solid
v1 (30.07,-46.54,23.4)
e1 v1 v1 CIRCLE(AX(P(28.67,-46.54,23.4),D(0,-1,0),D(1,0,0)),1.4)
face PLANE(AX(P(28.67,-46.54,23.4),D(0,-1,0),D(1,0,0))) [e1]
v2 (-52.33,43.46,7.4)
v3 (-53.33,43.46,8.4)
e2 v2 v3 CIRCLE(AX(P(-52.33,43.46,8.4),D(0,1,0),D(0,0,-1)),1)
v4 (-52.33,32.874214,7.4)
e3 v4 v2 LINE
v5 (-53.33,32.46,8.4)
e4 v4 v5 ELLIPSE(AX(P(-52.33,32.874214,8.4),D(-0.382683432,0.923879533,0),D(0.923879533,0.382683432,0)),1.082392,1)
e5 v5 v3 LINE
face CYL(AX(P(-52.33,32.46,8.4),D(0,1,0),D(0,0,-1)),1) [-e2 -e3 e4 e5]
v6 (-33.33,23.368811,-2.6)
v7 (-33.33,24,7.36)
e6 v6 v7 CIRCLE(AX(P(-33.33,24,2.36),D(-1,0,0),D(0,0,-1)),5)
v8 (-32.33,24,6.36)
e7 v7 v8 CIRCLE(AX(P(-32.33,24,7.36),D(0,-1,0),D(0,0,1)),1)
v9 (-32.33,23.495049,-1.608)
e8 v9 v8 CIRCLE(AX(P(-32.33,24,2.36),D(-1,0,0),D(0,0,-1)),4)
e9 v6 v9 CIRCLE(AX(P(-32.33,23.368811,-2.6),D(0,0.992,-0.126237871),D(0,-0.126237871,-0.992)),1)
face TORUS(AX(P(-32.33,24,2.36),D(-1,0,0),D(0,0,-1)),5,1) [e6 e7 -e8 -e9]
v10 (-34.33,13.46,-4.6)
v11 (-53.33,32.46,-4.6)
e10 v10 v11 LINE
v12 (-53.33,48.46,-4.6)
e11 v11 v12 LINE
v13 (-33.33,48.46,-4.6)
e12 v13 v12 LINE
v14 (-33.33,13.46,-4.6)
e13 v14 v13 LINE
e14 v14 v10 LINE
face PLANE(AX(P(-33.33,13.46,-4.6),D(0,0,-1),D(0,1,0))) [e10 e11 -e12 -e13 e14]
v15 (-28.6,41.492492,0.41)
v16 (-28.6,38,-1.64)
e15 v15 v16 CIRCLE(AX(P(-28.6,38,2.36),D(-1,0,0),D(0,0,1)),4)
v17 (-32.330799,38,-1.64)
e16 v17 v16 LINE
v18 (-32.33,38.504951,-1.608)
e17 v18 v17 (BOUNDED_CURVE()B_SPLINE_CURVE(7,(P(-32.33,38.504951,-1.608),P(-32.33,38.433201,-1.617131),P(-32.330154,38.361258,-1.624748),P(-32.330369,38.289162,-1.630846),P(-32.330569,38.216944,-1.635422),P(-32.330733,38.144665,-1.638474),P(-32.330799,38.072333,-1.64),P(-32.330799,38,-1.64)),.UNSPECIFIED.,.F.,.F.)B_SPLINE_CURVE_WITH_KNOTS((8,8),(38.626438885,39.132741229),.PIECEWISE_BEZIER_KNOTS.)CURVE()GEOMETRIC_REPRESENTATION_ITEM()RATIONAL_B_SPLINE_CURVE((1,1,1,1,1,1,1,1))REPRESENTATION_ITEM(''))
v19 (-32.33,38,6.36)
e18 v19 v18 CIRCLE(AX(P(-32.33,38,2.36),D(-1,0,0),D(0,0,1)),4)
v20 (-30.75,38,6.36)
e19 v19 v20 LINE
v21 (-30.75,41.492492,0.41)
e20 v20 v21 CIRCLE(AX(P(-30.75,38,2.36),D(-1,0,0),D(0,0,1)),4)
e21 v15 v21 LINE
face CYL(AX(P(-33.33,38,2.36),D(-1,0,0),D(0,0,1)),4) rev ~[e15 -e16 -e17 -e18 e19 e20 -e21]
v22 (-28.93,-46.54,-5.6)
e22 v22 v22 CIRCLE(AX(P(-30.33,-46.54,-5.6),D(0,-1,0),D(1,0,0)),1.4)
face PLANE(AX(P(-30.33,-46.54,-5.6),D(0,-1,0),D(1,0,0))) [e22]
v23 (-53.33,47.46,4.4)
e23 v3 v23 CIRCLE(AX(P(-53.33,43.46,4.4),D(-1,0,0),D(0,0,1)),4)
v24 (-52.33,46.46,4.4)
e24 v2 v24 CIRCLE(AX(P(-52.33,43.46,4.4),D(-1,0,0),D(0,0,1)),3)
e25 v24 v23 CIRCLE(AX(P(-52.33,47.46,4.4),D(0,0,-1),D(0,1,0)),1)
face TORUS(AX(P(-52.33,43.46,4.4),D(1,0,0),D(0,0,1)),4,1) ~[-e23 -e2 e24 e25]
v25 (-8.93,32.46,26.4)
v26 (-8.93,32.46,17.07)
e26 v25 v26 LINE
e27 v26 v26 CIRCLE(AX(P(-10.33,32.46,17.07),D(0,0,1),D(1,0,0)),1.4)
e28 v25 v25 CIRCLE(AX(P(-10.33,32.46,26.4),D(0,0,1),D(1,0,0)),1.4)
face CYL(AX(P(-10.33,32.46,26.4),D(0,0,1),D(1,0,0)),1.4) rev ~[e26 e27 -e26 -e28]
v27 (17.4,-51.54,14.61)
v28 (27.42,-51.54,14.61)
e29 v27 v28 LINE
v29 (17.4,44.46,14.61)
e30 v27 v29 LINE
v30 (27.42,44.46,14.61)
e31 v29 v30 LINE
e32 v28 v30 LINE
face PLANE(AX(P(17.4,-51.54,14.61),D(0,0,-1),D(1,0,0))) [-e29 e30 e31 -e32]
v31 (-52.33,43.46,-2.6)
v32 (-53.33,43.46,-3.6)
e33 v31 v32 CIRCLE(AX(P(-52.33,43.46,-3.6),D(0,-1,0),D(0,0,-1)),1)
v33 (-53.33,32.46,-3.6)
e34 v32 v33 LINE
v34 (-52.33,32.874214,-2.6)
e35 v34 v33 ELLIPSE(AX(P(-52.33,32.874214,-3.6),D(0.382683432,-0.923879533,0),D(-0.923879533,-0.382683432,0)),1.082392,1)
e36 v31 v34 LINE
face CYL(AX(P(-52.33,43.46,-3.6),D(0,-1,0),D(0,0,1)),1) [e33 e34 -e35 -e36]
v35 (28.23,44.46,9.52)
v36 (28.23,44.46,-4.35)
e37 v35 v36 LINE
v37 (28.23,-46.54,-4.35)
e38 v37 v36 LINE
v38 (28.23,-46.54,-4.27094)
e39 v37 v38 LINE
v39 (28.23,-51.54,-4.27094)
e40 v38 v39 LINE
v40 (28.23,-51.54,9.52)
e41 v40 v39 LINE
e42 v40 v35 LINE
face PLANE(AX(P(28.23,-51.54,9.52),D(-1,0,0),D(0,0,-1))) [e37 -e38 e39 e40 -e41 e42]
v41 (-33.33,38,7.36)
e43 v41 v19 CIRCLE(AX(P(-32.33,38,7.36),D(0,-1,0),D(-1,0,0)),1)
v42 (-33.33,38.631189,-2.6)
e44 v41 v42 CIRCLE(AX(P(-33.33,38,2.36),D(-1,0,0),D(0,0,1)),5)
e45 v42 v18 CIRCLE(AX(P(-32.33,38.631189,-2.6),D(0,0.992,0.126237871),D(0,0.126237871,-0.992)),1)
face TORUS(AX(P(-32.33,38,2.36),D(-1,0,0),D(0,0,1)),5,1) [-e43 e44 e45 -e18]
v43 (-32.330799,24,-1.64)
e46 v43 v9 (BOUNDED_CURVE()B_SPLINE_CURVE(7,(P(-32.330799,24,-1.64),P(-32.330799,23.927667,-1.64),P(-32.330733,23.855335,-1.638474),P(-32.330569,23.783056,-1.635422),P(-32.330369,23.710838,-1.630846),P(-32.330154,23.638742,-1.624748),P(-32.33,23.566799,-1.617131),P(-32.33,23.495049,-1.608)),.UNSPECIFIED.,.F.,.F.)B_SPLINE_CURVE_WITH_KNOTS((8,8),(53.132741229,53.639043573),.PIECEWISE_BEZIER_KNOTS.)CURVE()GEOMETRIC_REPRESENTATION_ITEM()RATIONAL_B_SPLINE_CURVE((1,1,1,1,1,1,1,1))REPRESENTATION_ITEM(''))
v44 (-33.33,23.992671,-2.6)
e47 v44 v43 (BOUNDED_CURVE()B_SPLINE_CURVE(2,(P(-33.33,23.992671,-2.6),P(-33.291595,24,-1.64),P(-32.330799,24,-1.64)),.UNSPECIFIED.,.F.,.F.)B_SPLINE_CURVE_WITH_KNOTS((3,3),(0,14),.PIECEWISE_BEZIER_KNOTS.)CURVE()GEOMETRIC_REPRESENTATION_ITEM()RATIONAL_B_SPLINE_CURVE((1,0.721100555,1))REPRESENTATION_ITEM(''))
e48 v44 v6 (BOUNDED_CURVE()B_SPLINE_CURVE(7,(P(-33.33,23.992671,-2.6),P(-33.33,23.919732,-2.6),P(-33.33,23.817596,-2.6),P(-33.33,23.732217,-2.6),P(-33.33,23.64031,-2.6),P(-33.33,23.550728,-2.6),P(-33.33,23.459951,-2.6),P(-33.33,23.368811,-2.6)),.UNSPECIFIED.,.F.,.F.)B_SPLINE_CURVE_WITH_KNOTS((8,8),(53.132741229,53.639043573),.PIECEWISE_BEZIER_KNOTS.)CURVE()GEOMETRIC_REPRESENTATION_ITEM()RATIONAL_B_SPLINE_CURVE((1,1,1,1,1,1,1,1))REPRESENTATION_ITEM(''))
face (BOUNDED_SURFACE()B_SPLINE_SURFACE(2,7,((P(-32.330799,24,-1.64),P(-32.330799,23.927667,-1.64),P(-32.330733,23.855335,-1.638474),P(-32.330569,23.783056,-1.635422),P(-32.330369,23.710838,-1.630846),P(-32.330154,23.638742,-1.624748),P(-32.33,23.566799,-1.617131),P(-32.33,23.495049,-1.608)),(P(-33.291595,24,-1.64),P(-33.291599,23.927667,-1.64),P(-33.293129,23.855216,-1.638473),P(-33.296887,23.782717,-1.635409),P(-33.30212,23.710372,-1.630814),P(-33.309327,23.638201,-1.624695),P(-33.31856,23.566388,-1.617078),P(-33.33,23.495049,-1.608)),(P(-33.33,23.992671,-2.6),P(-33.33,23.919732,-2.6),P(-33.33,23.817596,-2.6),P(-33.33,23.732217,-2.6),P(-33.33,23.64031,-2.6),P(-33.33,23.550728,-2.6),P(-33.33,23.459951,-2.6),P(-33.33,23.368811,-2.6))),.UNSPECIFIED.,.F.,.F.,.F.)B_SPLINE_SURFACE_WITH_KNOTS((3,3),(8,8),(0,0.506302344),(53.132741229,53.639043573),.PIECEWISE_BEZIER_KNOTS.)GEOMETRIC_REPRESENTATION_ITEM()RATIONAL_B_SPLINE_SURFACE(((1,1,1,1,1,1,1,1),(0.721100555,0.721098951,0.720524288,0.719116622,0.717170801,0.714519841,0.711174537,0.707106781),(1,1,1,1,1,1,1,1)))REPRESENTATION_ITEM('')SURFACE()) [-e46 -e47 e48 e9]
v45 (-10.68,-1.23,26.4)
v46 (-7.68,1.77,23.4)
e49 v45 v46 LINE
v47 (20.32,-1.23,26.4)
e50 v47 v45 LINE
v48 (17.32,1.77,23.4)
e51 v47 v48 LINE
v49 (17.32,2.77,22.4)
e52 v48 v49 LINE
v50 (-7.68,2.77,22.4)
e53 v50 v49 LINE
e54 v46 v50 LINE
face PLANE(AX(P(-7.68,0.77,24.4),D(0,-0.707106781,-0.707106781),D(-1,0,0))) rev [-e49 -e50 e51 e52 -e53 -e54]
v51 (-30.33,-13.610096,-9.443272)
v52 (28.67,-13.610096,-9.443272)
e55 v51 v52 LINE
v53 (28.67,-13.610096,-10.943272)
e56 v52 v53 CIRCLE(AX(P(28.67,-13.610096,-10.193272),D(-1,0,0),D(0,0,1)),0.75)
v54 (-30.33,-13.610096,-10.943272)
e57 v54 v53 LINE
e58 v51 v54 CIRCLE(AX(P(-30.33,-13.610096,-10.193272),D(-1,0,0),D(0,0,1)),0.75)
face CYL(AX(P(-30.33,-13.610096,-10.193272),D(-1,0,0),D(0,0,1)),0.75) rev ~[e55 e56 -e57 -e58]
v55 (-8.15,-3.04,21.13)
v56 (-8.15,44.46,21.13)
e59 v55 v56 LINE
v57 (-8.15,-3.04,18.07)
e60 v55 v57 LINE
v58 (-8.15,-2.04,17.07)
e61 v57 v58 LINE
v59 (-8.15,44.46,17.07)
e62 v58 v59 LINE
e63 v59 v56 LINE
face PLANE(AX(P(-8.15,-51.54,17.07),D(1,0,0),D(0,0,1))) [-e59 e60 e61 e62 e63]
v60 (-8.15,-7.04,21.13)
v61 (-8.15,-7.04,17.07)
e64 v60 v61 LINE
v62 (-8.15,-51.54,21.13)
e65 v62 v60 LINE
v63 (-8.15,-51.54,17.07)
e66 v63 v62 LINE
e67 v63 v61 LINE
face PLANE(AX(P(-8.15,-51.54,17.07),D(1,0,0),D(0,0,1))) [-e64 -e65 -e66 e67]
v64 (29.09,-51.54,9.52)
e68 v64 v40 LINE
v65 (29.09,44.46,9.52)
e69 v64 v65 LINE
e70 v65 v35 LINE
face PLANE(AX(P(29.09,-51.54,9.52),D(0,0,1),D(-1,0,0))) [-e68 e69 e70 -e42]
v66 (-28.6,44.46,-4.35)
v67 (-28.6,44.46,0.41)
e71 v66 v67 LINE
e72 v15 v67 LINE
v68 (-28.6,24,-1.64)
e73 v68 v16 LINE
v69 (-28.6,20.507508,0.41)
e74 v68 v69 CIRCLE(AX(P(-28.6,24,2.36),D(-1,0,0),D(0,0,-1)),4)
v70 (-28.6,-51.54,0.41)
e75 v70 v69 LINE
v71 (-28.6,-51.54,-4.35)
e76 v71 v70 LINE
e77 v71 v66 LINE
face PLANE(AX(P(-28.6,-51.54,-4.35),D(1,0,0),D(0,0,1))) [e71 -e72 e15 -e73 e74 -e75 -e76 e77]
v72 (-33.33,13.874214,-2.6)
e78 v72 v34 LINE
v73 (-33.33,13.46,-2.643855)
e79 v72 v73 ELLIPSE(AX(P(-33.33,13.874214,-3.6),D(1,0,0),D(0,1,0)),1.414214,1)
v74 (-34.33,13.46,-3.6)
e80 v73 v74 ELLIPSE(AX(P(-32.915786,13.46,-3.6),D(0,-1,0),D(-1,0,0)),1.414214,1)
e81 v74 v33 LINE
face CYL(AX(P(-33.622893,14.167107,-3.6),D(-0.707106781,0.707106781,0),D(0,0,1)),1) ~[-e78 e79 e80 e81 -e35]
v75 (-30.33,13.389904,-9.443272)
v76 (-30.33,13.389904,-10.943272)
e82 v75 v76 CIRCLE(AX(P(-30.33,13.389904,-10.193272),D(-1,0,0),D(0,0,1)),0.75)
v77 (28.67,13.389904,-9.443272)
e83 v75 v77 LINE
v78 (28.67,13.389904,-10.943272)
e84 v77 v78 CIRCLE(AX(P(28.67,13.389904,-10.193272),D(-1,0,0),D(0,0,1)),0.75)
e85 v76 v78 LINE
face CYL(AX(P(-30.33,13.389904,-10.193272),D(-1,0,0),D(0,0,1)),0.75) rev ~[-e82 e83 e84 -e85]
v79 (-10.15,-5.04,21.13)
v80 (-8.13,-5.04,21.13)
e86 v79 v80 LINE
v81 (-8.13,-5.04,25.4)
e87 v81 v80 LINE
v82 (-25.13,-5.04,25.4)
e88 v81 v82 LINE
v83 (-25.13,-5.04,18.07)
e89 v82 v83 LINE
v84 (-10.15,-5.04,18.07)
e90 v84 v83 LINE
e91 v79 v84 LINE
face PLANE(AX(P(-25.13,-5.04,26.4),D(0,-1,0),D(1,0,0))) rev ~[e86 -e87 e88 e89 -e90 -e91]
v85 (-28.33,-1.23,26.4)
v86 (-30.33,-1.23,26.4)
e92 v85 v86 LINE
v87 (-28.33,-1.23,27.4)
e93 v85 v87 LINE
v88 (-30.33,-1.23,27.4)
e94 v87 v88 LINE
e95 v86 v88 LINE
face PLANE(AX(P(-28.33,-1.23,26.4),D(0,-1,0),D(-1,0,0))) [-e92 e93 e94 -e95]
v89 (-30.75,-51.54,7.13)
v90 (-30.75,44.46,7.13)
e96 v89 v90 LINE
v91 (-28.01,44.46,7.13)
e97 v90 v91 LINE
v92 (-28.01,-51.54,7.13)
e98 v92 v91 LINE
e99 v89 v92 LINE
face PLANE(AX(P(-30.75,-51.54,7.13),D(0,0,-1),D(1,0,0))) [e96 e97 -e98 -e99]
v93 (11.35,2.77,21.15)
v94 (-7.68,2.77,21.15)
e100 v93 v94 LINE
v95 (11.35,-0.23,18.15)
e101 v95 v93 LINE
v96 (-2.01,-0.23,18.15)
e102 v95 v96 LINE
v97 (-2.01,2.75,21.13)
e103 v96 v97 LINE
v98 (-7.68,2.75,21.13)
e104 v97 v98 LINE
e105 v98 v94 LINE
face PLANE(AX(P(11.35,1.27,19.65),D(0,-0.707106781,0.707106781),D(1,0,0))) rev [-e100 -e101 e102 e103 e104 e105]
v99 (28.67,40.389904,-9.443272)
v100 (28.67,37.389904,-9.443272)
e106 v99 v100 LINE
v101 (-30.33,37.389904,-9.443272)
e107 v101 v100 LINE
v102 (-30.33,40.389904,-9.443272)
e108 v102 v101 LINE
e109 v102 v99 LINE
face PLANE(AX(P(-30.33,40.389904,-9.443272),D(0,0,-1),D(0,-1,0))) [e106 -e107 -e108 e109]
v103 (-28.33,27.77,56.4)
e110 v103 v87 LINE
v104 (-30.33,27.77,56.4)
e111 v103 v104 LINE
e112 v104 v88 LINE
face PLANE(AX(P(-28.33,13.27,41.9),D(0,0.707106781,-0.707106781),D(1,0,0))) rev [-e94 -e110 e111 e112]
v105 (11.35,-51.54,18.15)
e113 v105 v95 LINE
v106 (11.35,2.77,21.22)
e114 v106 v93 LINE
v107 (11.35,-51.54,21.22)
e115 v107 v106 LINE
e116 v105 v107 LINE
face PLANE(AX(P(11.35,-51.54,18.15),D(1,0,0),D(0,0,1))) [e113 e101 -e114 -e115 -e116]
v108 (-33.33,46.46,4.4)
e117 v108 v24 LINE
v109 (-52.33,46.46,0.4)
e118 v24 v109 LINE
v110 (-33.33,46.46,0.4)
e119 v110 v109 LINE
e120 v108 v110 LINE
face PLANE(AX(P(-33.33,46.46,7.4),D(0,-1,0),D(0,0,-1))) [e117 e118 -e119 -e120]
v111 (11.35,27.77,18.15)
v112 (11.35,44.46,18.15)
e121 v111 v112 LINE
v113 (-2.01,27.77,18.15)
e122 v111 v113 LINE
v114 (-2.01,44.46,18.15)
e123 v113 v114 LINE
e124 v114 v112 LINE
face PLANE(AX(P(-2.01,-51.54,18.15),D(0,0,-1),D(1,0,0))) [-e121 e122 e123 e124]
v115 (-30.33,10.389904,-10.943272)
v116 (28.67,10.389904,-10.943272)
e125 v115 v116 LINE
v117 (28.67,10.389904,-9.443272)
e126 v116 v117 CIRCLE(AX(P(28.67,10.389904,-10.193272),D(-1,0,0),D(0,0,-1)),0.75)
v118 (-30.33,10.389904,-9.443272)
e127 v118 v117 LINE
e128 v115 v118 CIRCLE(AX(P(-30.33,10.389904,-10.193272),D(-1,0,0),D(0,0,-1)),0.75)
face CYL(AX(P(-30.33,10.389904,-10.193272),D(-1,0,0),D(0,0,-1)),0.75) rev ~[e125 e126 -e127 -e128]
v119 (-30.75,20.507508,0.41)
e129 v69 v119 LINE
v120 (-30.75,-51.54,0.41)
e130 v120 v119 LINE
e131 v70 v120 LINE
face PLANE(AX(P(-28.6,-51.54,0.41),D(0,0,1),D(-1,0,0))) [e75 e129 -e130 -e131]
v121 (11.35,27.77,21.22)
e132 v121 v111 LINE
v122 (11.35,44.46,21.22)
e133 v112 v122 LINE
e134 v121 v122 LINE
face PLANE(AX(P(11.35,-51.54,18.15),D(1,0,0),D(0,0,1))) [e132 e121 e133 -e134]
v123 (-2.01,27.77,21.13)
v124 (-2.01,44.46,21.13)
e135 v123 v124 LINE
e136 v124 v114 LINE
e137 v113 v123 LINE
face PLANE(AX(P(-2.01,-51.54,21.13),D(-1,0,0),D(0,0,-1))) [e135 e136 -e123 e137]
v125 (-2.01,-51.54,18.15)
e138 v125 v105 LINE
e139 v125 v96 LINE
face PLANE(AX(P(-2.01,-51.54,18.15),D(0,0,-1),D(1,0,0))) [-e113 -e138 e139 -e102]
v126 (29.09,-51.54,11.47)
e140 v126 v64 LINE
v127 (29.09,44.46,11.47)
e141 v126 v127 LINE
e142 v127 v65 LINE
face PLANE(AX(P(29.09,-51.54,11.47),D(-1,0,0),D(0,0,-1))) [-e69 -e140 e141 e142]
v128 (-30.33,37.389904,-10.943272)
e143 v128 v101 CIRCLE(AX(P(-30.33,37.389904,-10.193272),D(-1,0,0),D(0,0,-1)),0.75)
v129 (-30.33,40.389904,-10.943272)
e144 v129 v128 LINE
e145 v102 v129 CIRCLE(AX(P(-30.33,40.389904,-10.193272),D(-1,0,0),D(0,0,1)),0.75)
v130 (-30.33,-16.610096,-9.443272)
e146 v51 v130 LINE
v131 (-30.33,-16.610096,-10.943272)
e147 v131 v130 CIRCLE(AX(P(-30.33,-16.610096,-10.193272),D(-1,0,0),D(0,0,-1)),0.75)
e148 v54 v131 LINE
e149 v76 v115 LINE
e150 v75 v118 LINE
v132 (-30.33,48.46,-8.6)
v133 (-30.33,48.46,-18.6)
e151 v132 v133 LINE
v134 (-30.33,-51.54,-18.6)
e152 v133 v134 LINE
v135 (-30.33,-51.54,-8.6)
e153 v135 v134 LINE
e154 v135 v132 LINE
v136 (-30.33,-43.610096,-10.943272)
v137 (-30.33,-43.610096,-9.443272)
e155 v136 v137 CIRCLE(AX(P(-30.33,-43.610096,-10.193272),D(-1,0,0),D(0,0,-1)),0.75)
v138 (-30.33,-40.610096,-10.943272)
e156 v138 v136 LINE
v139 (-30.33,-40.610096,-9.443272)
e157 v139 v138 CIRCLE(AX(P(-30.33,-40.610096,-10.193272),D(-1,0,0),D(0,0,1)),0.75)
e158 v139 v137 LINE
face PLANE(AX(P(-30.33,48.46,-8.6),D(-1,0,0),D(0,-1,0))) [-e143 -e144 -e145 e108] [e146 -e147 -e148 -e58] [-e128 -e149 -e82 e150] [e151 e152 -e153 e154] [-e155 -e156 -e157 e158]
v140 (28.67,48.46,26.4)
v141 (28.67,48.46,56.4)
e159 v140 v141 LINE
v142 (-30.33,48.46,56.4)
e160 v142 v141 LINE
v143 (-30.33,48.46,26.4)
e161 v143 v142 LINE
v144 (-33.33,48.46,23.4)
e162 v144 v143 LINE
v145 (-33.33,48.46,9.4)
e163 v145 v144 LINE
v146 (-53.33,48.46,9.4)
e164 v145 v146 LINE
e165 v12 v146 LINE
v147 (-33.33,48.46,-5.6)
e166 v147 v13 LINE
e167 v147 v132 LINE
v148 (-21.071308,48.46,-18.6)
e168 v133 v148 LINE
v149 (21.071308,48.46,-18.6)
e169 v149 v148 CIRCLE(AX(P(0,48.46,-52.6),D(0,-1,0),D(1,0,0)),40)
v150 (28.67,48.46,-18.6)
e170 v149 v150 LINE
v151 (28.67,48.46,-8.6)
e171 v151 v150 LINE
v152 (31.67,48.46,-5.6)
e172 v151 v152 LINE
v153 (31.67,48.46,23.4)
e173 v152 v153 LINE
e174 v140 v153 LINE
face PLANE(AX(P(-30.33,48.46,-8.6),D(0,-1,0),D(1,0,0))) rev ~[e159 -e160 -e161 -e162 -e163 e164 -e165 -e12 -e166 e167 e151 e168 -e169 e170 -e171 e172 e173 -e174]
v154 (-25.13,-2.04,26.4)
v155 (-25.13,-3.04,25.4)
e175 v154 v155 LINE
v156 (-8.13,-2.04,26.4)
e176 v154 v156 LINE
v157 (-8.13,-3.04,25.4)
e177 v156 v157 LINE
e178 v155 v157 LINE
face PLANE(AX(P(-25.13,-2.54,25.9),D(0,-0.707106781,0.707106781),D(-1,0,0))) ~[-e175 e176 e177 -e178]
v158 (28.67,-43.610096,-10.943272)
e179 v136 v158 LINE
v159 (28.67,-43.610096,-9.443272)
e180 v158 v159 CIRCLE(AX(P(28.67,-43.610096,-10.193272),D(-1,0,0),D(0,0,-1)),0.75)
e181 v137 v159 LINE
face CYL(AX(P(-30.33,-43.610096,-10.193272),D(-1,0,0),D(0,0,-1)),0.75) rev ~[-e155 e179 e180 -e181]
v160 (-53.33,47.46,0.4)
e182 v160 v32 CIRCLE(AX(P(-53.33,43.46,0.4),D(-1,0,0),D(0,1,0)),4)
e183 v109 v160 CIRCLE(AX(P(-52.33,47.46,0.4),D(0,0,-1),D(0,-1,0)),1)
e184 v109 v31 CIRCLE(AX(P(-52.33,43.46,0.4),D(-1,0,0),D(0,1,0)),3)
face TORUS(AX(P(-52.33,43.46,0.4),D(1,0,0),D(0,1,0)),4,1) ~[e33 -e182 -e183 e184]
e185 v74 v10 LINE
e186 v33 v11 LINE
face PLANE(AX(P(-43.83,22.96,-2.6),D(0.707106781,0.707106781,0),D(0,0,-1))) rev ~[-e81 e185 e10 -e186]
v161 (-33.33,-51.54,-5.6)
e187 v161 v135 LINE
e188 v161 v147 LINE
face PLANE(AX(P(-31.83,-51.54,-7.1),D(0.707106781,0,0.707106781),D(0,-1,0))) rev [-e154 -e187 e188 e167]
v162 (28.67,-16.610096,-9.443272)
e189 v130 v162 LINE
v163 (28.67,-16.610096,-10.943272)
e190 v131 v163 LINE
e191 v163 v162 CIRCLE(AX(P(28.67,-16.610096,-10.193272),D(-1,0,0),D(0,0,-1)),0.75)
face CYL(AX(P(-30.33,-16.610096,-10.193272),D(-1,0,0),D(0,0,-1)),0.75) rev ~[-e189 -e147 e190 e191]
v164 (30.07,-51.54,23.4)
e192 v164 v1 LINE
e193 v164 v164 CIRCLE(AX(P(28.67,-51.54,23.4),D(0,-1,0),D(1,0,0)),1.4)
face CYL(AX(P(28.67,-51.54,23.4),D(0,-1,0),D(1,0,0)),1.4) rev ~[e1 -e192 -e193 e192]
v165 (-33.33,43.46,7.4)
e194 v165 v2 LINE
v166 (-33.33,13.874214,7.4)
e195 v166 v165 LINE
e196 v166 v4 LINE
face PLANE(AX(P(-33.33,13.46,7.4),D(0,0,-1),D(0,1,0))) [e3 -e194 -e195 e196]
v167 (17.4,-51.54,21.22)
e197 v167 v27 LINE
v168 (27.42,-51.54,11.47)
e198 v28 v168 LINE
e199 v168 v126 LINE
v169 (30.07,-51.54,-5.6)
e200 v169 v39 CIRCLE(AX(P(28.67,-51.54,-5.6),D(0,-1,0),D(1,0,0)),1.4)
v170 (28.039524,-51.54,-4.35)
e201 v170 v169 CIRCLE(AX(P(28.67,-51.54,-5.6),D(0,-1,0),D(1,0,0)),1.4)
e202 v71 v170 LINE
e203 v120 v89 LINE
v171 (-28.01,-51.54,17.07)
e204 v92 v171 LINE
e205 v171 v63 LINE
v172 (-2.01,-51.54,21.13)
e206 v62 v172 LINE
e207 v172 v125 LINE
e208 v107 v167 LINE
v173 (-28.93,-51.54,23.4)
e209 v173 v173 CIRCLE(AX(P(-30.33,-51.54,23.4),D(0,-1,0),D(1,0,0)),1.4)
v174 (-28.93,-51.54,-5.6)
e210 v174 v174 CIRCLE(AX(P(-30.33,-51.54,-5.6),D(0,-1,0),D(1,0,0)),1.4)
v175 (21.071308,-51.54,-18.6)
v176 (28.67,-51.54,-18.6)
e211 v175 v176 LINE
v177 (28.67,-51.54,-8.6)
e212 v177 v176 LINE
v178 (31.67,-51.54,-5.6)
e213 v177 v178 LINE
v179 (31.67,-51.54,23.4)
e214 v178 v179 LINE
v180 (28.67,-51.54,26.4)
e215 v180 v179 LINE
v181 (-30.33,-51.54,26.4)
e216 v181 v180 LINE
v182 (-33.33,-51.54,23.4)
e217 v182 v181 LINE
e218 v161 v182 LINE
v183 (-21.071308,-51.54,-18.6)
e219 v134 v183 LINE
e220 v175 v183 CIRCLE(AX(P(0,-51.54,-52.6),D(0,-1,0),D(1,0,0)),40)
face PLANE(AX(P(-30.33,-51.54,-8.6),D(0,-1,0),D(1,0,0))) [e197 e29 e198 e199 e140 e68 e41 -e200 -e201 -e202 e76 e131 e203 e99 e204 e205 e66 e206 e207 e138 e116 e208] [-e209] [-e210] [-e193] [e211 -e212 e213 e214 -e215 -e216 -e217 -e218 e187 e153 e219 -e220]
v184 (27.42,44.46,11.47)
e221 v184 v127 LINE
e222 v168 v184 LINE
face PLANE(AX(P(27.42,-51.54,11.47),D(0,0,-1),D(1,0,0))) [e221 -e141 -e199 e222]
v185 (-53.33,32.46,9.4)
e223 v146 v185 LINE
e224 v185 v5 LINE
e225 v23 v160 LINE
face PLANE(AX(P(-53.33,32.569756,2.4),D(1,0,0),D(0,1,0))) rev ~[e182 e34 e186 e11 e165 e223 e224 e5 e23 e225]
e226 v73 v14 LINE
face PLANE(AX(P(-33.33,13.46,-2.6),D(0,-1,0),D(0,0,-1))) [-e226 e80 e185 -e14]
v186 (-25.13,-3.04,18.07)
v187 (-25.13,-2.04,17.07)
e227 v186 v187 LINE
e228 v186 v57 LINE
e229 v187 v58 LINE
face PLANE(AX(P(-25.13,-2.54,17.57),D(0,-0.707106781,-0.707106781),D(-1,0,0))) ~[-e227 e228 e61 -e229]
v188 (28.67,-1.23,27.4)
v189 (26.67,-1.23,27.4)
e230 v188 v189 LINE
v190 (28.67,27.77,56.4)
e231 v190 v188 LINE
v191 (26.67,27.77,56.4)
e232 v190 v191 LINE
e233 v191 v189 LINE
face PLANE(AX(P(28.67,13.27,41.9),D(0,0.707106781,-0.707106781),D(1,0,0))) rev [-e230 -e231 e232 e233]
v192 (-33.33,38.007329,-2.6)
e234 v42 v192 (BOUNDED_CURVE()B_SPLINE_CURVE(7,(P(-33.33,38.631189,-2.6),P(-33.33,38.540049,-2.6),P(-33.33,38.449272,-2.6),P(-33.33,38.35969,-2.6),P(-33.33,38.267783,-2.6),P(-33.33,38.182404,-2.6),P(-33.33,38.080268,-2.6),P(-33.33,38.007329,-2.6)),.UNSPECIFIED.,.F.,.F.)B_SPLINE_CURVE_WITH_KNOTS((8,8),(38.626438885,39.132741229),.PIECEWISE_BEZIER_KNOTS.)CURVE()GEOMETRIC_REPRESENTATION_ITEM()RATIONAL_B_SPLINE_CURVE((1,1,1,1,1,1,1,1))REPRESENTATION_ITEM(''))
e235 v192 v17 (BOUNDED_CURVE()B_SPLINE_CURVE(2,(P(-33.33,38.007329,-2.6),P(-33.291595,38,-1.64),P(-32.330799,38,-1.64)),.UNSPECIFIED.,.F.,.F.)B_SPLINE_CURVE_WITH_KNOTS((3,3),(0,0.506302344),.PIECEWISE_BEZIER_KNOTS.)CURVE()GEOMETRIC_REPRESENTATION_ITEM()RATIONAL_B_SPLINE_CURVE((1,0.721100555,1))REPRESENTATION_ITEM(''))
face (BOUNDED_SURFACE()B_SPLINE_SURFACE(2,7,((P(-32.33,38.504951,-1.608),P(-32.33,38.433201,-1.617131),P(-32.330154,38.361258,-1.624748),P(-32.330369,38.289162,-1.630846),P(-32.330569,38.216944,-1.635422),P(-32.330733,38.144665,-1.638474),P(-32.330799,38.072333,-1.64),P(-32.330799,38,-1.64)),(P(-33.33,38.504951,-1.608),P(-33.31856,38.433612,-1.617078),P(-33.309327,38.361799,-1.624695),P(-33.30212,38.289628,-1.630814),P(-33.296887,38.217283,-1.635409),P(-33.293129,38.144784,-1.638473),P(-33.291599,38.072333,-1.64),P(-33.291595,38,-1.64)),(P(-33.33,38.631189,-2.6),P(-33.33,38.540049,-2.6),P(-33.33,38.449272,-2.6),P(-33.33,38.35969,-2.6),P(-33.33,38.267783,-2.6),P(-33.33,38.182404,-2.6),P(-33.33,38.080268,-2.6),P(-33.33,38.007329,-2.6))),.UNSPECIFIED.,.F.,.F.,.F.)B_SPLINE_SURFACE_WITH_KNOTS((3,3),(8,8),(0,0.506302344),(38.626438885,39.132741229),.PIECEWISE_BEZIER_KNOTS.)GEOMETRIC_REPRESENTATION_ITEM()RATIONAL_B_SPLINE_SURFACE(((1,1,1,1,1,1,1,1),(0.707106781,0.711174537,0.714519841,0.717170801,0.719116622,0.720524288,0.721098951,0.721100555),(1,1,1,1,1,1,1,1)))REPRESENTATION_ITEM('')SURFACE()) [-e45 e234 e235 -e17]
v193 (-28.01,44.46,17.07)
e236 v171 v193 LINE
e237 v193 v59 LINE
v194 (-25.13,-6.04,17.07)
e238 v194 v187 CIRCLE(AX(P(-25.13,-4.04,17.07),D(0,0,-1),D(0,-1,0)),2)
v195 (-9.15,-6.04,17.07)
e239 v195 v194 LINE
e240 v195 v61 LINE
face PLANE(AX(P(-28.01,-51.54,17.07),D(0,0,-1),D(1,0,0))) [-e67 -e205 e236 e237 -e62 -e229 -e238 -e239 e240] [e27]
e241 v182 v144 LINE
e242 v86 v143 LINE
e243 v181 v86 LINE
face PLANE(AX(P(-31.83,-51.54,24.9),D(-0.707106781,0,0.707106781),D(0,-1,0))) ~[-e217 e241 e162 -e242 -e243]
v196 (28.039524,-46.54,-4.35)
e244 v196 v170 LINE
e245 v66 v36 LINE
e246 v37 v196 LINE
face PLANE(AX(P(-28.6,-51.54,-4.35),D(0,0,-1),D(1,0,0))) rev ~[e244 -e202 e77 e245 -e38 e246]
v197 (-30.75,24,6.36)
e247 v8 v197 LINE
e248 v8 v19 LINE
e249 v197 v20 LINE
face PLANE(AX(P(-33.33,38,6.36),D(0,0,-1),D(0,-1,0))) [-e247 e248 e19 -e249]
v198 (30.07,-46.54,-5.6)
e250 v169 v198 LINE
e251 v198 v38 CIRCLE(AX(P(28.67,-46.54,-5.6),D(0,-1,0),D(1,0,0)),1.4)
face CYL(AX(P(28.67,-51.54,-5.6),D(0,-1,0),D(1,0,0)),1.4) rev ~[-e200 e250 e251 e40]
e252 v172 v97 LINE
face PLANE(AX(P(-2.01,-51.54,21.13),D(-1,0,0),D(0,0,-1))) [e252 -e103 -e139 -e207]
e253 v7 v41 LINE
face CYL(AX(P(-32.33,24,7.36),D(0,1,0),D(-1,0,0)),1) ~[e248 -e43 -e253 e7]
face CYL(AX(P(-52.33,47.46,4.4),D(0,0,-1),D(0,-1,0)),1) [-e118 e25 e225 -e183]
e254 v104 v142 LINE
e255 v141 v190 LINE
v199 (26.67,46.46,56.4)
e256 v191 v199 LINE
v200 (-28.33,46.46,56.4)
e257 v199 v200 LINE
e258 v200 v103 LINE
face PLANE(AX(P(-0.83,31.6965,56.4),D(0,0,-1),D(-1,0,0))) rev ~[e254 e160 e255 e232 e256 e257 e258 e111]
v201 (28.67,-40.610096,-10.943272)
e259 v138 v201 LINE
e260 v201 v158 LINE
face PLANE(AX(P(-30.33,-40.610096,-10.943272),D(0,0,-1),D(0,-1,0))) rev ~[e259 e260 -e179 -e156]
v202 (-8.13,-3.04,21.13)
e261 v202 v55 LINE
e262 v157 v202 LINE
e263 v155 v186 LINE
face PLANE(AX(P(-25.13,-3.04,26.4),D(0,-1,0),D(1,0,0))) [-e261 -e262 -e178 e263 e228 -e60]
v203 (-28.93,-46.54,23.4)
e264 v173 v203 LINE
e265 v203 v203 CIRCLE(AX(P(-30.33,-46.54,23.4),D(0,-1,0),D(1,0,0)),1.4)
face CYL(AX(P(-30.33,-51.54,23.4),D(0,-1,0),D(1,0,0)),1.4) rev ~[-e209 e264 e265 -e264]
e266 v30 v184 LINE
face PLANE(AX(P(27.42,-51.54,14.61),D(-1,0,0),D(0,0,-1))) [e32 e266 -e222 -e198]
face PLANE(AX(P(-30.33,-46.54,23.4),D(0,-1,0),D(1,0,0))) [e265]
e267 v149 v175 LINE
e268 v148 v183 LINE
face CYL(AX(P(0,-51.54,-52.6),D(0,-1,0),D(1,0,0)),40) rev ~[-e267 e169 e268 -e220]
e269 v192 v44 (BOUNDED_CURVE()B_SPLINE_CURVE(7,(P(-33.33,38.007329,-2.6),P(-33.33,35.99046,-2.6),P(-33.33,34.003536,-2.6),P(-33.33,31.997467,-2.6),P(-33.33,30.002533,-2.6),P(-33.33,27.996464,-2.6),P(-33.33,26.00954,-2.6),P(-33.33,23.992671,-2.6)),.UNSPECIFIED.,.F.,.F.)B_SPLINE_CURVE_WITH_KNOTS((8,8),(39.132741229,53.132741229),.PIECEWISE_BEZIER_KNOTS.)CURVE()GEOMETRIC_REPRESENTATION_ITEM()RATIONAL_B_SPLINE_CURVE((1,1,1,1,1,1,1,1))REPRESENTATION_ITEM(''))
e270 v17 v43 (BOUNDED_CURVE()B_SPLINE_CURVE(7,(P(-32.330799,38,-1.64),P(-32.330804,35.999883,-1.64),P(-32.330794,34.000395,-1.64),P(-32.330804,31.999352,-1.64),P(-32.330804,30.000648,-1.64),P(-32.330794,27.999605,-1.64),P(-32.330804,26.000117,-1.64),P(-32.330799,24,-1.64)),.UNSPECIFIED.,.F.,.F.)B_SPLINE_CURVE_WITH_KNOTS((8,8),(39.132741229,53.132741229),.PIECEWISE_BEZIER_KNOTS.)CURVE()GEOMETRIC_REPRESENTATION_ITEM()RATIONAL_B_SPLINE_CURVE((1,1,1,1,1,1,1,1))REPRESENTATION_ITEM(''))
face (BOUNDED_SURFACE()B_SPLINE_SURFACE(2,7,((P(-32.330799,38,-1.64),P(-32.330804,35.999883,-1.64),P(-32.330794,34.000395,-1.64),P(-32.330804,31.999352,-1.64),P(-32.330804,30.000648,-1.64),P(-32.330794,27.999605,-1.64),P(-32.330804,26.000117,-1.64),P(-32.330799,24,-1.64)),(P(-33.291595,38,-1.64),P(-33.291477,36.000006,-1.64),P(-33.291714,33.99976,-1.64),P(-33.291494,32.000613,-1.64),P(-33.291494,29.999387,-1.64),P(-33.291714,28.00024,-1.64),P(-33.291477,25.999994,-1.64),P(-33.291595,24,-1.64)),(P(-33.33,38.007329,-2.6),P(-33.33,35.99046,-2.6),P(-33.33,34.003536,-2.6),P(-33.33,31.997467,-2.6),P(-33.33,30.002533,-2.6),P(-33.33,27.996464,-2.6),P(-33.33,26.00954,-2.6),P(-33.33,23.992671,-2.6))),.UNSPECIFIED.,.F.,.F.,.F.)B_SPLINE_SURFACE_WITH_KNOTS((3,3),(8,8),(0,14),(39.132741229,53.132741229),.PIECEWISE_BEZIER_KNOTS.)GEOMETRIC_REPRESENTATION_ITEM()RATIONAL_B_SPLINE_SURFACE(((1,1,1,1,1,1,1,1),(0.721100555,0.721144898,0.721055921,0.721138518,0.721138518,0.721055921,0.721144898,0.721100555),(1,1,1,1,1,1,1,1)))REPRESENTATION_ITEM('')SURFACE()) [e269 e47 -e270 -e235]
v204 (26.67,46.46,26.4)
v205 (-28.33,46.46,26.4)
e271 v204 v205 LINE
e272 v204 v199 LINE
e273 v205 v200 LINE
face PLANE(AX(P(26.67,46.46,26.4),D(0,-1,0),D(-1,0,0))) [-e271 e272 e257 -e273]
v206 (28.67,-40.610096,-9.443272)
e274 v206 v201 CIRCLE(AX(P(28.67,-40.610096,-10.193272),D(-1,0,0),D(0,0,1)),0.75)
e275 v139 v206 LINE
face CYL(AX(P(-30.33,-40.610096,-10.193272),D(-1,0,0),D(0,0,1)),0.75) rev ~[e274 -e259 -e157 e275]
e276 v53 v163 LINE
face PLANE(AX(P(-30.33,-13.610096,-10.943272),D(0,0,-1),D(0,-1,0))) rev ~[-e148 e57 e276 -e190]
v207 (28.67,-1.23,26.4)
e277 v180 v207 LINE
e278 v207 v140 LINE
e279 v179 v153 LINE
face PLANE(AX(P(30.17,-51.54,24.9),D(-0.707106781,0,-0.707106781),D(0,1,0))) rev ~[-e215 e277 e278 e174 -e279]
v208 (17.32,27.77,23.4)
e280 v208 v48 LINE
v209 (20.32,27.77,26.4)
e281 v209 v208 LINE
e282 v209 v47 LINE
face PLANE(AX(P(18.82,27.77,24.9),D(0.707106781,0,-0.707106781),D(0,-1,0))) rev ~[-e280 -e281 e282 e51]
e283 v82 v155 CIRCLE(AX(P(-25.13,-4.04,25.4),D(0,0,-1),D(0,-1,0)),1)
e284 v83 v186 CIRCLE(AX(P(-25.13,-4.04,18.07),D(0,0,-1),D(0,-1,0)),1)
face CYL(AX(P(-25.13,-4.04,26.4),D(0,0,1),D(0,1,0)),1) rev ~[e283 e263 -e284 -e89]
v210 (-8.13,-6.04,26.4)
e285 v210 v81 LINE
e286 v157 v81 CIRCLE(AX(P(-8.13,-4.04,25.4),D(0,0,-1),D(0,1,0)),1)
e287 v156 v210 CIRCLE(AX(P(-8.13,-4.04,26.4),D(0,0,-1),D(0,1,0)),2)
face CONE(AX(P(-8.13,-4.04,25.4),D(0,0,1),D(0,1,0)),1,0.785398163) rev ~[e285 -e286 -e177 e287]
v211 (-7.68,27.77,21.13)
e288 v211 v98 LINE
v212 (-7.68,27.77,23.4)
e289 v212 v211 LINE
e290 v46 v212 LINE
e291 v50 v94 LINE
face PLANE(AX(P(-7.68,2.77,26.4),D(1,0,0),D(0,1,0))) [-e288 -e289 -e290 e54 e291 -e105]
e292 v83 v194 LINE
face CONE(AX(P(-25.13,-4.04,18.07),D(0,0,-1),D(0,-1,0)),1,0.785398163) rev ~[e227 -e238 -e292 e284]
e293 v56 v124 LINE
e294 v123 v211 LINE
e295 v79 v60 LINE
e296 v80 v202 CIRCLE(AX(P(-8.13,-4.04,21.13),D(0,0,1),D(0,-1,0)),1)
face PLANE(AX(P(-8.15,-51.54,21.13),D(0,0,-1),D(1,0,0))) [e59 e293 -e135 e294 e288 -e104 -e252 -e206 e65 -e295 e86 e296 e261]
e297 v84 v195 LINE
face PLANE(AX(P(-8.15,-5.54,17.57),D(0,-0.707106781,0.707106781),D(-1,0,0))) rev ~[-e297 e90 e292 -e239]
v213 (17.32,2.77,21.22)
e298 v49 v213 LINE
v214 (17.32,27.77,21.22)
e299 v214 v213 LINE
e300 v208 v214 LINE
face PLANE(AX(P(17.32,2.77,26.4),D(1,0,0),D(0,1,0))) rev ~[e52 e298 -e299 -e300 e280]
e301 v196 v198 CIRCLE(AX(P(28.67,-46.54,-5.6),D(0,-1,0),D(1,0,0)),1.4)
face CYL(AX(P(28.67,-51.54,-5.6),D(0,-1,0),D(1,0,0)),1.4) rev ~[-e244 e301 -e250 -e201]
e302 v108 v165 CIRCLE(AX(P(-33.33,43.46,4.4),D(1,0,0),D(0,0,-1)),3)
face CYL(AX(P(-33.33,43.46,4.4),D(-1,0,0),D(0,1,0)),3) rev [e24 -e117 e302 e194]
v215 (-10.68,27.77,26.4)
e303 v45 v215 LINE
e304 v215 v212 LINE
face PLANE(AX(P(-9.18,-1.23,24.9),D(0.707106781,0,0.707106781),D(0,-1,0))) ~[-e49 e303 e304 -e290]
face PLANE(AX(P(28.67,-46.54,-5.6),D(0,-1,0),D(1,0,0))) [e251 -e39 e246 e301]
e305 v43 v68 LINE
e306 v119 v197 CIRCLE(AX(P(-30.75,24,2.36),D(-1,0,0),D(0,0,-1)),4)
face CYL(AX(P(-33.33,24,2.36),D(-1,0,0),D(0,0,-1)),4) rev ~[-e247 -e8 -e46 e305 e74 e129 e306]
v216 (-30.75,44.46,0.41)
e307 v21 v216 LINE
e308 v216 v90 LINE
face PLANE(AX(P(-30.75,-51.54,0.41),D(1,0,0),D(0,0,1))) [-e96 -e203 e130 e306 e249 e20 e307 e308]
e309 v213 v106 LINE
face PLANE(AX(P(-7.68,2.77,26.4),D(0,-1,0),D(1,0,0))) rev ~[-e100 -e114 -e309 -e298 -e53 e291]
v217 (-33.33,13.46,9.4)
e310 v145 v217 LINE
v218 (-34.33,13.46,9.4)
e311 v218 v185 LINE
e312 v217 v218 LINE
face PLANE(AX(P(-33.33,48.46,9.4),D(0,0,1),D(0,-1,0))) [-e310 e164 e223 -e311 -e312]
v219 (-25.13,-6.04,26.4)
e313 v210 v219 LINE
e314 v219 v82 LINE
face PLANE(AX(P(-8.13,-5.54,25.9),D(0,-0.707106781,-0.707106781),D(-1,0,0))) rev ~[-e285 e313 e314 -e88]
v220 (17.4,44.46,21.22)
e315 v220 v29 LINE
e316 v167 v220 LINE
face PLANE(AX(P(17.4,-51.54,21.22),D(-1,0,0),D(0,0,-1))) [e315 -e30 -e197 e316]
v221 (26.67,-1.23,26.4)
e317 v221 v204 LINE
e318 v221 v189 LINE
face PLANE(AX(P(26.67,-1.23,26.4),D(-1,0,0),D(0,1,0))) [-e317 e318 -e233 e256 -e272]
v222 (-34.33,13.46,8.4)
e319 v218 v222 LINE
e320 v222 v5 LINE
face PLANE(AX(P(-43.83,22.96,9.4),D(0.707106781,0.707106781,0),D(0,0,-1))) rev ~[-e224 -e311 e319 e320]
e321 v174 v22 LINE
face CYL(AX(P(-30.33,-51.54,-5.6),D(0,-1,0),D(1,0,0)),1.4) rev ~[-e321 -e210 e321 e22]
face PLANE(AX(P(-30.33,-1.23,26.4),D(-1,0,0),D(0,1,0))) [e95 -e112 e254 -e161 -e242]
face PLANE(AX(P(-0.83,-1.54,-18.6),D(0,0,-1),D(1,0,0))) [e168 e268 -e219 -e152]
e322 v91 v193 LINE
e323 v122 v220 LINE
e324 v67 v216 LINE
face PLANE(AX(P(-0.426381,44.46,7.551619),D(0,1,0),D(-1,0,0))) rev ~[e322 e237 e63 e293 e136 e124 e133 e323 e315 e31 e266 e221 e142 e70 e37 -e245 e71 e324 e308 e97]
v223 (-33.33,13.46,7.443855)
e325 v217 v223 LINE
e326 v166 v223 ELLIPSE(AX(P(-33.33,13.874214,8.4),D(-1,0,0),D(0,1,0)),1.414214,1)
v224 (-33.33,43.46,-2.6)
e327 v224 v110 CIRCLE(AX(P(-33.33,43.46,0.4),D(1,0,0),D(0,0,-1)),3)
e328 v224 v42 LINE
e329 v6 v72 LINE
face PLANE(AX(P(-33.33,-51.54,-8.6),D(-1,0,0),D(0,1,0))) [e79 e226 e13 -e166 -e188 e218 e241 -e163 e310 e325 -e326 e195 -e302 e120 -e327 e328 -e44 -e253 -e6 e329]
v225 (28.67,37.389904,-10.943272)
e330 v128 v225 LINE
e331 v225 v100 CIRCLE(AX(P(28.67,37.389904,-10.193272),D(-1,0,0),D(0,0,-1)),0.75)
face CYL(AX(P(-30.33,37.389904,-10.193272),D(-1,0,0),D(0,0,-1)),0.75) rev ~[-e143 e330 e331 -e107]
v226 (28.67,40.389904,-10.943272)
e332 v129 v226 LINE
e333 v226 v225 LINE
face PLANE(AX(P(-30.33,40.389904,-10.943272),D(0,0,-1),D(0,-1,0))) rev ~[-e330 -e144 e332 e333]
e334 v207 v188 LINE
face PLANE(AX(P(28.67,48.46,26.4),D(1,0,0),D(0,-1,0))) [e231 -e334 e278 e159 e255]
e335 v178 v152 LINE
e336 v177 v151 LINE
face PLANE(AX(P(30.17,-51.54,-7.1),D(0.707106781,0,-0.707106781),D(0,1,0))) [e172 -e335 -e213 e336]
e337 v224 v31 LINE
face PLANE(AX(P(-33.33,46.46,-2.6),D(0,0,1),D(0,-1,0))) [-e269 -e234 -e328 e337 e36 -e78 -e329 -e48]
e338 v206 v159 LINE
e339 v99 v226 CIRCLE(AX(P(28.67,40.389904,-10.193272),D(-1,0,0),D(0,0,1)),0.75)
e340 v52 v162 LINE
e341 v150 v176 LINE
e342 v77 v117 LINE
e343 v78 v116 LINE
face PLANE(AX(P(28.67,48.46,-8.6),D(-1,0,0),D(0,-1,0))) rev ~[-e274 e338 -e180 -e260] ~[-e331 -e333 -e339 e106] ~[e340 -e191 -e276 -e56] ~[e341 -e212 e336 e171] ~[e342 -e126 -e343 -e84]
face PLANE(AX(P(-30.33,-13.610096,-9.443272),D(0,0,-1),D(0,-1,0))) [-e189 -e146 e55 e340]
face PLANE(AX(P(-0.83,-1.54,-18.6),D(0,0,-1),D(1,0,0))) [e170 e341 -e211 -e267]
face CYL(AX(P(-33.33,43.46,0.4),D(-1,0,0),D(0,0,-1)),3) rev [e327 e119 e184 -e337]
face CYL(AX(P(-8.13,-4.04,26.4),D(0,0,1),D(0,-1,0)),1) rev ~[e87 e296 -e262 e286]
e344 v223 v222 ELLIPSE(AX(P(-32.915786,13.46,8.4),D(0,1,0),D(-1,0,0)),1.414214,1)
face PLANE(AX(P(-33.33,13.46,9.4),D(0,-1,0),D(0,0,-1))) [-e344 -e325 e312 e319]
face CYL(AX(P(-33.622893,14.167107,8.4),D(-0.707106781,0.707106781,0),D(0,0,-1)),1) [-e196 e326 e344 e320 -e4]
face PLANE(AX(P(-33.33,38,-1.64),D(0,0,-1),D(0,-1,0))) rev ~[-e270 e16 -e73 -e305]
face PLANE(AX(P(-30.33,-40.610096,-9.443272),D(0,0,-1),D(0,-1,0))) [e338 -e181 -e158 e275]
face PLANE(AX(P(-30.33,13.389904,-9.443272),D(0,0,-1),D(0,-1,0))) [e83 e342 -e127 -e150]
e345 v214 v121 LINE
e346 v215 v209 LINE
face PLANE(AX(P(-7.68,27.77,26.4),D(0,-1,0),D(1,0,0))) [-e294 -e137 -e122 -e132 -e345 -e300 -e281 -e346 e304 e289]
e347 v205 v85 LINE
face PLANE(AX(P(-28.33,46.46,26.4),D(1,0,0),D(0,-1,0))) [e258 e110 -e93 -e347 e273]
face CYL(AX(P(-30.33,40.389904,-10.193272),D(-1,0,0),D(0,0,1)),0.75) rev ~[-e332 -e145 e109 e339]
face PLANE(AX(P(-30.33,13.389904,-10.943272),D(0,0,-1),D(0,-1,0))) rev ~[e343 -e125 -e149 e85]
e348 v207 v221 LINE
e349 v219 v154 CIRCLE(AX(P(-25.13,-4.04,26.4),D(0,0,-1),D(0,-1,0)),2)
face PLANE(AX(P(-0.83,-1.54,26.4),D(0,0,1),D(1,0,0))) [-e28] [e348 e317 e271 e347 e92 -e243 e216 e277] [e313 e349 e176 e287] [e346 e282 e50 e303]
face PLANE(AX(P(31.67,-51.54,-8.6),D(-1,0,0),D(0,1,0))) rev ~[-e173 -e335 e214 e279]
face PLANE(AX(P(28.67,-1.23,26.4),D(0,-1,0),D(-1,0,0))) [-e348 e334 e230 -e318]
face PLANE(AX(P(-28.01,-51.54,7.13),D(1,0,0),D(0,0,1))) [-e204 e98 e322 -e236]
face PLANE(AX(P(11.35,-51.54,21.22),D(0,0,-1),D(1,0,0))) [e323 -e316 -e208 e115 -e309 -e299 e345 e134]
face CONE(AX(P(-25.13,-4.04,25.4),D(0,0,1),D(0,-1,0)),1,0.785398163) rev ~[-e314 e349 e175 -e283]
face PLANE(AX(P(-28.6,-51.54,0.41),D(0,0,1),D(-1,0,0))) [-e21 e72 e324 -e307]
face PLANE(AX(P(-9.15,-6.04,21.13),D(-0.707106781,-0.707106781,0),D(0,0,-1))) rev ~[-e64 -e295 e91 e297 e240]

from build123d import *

# Parameters (mm, degrees)
SKETCH043_W         = 65
SKETCH043_H         = 100
PAD_DEPTH           = 35
POCKET_DEPTH        = 96
CHAMFER_SIZE        = 3
SKETCH045_W         = 25
SKETCH045_H         = 25
POCKET001_DEPTH     = 10
CHAMFER001_SIZE     = 4
CHAMFER002_SIZE     = 3
CHAMFER003_SIZE     = 3
PAD001_DEPTH        = 30
CHAMFER004_SIZE     = 29
CHAMFER005_SIZE     = 3
SKETCH047_R         = 1.4
POCKET002_DEPTH     = 5
SKETCH048_W         = 59
SKETCH048_H         = 100
PAD002_DEPTH        = 10
SKETCH049_R         = 40
POCKET003_DEPTH     = 100
POCKET004_DEPTH     = 500
LINEARPATTERN_COUNT = 4
LINEARPATTERN_PITCH = 27
SKETCH051_R         = 1.4
POCKET005_DEPTH     = 10
POCKET006_DEPTH     = 11
CHAMFER006_SIZE     = 1
CHAMFER007_SIZE     = 1
CHAMFER008_SIZE     = 2
POCKET008_DEPTH     = 5
PAD005_DEPTH        = 20
CHAMFER010_SIZE     = 19
FILLET001_R         = 3
FILLET002_R         = 1
FILLET003_R         = 1


with BuildPart() as part:
    # Sketch043 → Pad (new body)
    with BuildSketch(Plane.XY):
        with Locations((-0.83, -1.54)):
            Rectangle(SKETCH043_W, SKETCH043_H)
    extrude(amount=PAD_DEPTH)

    # Sketch042 (on Face3 of Pad) → Pocket (cut)
    with BuildSketch(Plane.XZ.offset(51.54)):
        Polygon((0, 4.25), (-28.6, 4.25), (-28.6, 9.01), (-30.75, 9.01), (-30.75, 15.73), (-28.01, 15.73), (-28.01, 25.67), (-8.15, 25.67), (-8.15, 29.73), (-2.01, 29.73), (-2.01, 26.75), (11.35, 26.75), (11.35, 29.82), (17.4, 29.82), (17.4, 23.21), (27.42, 23.21), (27.42, 20.07), (29.09, 20.07), (29.09, 18.12), (28.23, 18.12), (28.23, 4.25), align=None)
    extrude(amount=-POCKET_DEPTH, mode=Mode.SUBTRACT)

    # Chamfer
    chamfer_edges = [part.edges().sort_by_distance(p)[0] for p in [
        (-33.33, -1.54, 35),
        (-33.33, -1.54, 0),
        (31.67, -1.54, 35),
        (31.67, -1.54, 0),
    ]]
    chamfer(chamfer_edges, length=CHAMFER_SIZE)

    # Sketch045 (on Face6 of Chamfer) → Pocket001 (cut)
    with BuildSketch(Plane.XY.offset(35)):
        with Locations((4.82, 15.27)):
            Rectangle(SKETCH045_W, SKETCH045_H)
    extrude(amount=-POCKET001_DEPTH, mode=Mode.SUBTRACT)

    # Chamfer001
    chamfer001_edges = [part.edges().sort_by_distance(p)[0] for p in [
        (4.82, 2.77, 35),
    ]]
    chamfer(chamfer001_edges, length=CHAMFER001_SIZE)

    # Chamfer002
    chamfer002_edges = [part.edges().sort_by_distance(p)[0] for p in [
        (-7.68, 15.27, 35),
    ]]
    chamfer(chamfer002_edges, length=CHAMFER002_SIZE)

    # Chamfer003
    chamfer003_edges = [part.edges().sort_by_distance(p)[0] for p in [
        (17.32, 15.27, 35),
    ]]
    chamfer(chamfer003_edges, length=CHAMFER003_SIZE)

    # Sketch046 (on Face1 of Chamfer003) → Pad001 (join)
    with BuildSketch(Plane.XY.offset(35)):
        Polygon((-30.33, 48.46), (28.67, 48.46), (28.67, -1.23), (26.67, -1.23), (26.67, 46.46), (-28.33, 46.46), (-28.33, -1.23), (-30.33, -1.23), align=None)
    extrude(amount=PAD001_DEPTH)

    # Chamfer004
    chamfer004_edges = [part.edges().sort_by_distance(p)[0] for p in [
        (-29.33, -1.23, 65),
        (27.67, -1.23, 65),
    ]]
    chamfer(chamfer004_edges, length=CHAMFER004_SIZE)

    # Chamfer005
    chamfer005_edges = [part.edges().sort_by_distance(p)[0] for p in [
        (4.67, 2.77, 26.75),
    ]]
    chamfer(chamfer005_edges, length=CHAMFER005_SIZE)

    # Sketch047 (on Face6 of Chamfer005) → Pocket002 (cut)
    with BuildSketch(Plane.XZ.offset(51.54)):
        with Locations((-30.33, 32)):
            Circle(SKETCH047_R)
        with Locations((-30.33, 3)):
            Circle(SKETCH047_R)
        with Locations((28.67, 32)):
            Circle(SKETCH047_R)
        with Locations((28.67, 3)):
            Circle(SKETCH047_R)
    extrude(amount=-POCKET002_DEPTH, mode=Mode.SUBTRACT)

    # Sketch048 (on Face19 of Pocket002) → Pad002 (join)
    with BuildSketch(Plane(origin=(0, 0, 0), x_dir=(1, 0, 0), z_dir=(0, 0, -1))):
        with Locations((-0.83, 1.54)):
            Rectangle(SKETCH048_W, SKETCH048_H)
    extrude(amount=PAD002_DEPTH)

    # Sketch049 (on Face19 of Pad002) → Pocket003 (cut)
    with BuildSketch(Plane.XZ.offset(51.54)):
        with Locations((0, -44)):
            Circle(SKETCH049_R)
    extrude(amount=-POCKET003_DEPTH, mode=Mode.SUBTRACT)

    # Sketch050 (on Face53 of Pocket003) → Pocket004 (cut)
    with BuildSketch(Plane(origin=(-30.33, 0, 0), x_dir=(0, -1, 0), z_dir=(-1, 0, 0))):
        with BuildLine():
            ThreePointArc((-40.389904, -0.843272), (-41.139904, -1.593272), (-40.389904, -2.343272))
            Line((-40.389904, -2.343272), (-37.389904, -2.343272))
            ThreePointArc((-37.389904, -2.343272), (-36.639904, -1.593272), (-37.389904, -0.843272))
            Line((-40.389904, -0.843272), (-37.389904, -0.843272))
        make_face()
    pocket004 = extrude(amount=-POCKET004_DEPTH, mode=Mode.SUBTRACT)

    # LinearPattern: Pocket004 ×4
    with Locations(*[(0, -i * LINEARPATTERN_PITCH, 0) for i in range(1, LINEARPATTERN_COUNT)]):
        add(pocket004, mode=Mode.SUBTRACT)

    # Sketch051 (on Face20 of LinearPattern) → Pocket005 (cut)
    with BuildSketch(Plane.XY.offset(35)):
        with Locations((-10.33, 32.46)):
            Circle(SKETCH051_R)
    extrude(amount=-POCKET005_DEPTH, mode=Mode.SUBTRACT)

    # Sketch052 (on Face20 of Pocket005) → Pocket006 (cut)
    with BuildSketch(Plane.XY.offset(35)):
        with BuildLine():
            ThreePointArc((-25.13, -3.04), (-26.13, -4.04), (-25.13, -5.04))
            Line((-25.13, -5.04), (-8.13, -5.04))
            ThreePointArc((-8.13, -5.04), (-7.13, -4.04), (-8.13, -3.04))
            Line((-25.13, -3.04), (-8.13, -3.04))
        make_face()
    extrude(amount=-POCKET006_DEPTH, mode=Mode.SUBTRACT)

    # Chamfer006
    chamfer006_edges = [part.edges().sort_by_distance(p)[0] for p in [
        (-16.63, -3.04, 35),
    ]]
    chamfer(chamfer006_edges, length=CHAMFER006_SIZE)

    # Chamfer007
    chamfer007_edges = [part.edges().sort_by_distance(p)[0] for p in [
        (-16.64, -5.04, 25.67),
    ]]
    chamfer(chamfer007_edges, length=CHAMFER007_SIZE)

    # Chamfer008
    chamfer008_edges = [part.edges().sort_by_distance(p)[0] for p in [
        (-8.15, -5.04, 28.2),
    ]]
    chamfer(chamfer008_edges, length=CHAMFER008_SIZE)

    # Sketch056 (on Face24 of Chamfer008) → Pocket008 (cut)
    with BuildSketch(Plane(origin=(-33.33, 0, 0), x_dir=(0, -1, 0), z_dir=(-1, 0, 0))):
        with BuildLine():
            ThreePointArc((-38, 14.96), (-42, 10.96), (-38, 6.96))
            Line((-38, 6.96), (-24, 6.96))
            ThreePointArc((-24, 6.96), (-20, 10.96), (-24, 14.96))
            Line((-38, 14.96), (-24, 14.96))
        make_face()
    extrude(amount=-POCKET008_DEPTH, mode=Mode.SUBTRACT)

    # Sketch057 (on Face24 of Pocket008) → Pad005 (join)
    with BuildSketch(Plane(origin=(-33.33, 0, 0), x_dir=(0, -1, 0), z_dir=(-1, 0, 0))):
        Polygon((-48.46, 18), (-13.46, 18), (-13.46, 16), (-46.46, 16), (-46.46, 6), (-13.46, 6), (-13.46, 4), (-48.46, 4), align=None)
    extrude(amount=PAD005_DEPTH)

    # Chamfer010
    chamfer010_edges = [part.edges().sort_by_distance(p)[0] for p in [
        (-53.33, 13.46, 5),
        (-53.33, 13.46, 17),
    ]]
    chamfer(chamfer010_edges, length=CHAMFER010_SIZE)

    # Fillet001
    fillet001_edges = [part.edges().sort_by_distance(p)[0] for p in [
        (-43.33, 46.46, 6),
        (-43.33, 46.46, 16),
    ]]
    fillet(fillet001_edges, radius=FILLET001_R)

    # Fillet002
    fillet002_edges = [part.edges().sort_by_distance(p)[0] for p in [
        (-53.33, 37.96, 16),
        (-43.83, 22.96, 16),
        (-43.83, 22.96, 6),
    ]]
    fillet(fillet002_edges, radius=FILLET002_R)

    # Fillet003
    fillet003_edges = [part.edges().sort_by_distance(p)[0] for p in [
        (-33.33, 20, 10.96),
    ]]
    fillet(fillet003_edges, radius=FILLET003_R)


with BuildPart() as part_1:
    # Body012 placement: moved
    add(part.part.moved(Location((0, 0, -8.6))))


solid = part_1.part
